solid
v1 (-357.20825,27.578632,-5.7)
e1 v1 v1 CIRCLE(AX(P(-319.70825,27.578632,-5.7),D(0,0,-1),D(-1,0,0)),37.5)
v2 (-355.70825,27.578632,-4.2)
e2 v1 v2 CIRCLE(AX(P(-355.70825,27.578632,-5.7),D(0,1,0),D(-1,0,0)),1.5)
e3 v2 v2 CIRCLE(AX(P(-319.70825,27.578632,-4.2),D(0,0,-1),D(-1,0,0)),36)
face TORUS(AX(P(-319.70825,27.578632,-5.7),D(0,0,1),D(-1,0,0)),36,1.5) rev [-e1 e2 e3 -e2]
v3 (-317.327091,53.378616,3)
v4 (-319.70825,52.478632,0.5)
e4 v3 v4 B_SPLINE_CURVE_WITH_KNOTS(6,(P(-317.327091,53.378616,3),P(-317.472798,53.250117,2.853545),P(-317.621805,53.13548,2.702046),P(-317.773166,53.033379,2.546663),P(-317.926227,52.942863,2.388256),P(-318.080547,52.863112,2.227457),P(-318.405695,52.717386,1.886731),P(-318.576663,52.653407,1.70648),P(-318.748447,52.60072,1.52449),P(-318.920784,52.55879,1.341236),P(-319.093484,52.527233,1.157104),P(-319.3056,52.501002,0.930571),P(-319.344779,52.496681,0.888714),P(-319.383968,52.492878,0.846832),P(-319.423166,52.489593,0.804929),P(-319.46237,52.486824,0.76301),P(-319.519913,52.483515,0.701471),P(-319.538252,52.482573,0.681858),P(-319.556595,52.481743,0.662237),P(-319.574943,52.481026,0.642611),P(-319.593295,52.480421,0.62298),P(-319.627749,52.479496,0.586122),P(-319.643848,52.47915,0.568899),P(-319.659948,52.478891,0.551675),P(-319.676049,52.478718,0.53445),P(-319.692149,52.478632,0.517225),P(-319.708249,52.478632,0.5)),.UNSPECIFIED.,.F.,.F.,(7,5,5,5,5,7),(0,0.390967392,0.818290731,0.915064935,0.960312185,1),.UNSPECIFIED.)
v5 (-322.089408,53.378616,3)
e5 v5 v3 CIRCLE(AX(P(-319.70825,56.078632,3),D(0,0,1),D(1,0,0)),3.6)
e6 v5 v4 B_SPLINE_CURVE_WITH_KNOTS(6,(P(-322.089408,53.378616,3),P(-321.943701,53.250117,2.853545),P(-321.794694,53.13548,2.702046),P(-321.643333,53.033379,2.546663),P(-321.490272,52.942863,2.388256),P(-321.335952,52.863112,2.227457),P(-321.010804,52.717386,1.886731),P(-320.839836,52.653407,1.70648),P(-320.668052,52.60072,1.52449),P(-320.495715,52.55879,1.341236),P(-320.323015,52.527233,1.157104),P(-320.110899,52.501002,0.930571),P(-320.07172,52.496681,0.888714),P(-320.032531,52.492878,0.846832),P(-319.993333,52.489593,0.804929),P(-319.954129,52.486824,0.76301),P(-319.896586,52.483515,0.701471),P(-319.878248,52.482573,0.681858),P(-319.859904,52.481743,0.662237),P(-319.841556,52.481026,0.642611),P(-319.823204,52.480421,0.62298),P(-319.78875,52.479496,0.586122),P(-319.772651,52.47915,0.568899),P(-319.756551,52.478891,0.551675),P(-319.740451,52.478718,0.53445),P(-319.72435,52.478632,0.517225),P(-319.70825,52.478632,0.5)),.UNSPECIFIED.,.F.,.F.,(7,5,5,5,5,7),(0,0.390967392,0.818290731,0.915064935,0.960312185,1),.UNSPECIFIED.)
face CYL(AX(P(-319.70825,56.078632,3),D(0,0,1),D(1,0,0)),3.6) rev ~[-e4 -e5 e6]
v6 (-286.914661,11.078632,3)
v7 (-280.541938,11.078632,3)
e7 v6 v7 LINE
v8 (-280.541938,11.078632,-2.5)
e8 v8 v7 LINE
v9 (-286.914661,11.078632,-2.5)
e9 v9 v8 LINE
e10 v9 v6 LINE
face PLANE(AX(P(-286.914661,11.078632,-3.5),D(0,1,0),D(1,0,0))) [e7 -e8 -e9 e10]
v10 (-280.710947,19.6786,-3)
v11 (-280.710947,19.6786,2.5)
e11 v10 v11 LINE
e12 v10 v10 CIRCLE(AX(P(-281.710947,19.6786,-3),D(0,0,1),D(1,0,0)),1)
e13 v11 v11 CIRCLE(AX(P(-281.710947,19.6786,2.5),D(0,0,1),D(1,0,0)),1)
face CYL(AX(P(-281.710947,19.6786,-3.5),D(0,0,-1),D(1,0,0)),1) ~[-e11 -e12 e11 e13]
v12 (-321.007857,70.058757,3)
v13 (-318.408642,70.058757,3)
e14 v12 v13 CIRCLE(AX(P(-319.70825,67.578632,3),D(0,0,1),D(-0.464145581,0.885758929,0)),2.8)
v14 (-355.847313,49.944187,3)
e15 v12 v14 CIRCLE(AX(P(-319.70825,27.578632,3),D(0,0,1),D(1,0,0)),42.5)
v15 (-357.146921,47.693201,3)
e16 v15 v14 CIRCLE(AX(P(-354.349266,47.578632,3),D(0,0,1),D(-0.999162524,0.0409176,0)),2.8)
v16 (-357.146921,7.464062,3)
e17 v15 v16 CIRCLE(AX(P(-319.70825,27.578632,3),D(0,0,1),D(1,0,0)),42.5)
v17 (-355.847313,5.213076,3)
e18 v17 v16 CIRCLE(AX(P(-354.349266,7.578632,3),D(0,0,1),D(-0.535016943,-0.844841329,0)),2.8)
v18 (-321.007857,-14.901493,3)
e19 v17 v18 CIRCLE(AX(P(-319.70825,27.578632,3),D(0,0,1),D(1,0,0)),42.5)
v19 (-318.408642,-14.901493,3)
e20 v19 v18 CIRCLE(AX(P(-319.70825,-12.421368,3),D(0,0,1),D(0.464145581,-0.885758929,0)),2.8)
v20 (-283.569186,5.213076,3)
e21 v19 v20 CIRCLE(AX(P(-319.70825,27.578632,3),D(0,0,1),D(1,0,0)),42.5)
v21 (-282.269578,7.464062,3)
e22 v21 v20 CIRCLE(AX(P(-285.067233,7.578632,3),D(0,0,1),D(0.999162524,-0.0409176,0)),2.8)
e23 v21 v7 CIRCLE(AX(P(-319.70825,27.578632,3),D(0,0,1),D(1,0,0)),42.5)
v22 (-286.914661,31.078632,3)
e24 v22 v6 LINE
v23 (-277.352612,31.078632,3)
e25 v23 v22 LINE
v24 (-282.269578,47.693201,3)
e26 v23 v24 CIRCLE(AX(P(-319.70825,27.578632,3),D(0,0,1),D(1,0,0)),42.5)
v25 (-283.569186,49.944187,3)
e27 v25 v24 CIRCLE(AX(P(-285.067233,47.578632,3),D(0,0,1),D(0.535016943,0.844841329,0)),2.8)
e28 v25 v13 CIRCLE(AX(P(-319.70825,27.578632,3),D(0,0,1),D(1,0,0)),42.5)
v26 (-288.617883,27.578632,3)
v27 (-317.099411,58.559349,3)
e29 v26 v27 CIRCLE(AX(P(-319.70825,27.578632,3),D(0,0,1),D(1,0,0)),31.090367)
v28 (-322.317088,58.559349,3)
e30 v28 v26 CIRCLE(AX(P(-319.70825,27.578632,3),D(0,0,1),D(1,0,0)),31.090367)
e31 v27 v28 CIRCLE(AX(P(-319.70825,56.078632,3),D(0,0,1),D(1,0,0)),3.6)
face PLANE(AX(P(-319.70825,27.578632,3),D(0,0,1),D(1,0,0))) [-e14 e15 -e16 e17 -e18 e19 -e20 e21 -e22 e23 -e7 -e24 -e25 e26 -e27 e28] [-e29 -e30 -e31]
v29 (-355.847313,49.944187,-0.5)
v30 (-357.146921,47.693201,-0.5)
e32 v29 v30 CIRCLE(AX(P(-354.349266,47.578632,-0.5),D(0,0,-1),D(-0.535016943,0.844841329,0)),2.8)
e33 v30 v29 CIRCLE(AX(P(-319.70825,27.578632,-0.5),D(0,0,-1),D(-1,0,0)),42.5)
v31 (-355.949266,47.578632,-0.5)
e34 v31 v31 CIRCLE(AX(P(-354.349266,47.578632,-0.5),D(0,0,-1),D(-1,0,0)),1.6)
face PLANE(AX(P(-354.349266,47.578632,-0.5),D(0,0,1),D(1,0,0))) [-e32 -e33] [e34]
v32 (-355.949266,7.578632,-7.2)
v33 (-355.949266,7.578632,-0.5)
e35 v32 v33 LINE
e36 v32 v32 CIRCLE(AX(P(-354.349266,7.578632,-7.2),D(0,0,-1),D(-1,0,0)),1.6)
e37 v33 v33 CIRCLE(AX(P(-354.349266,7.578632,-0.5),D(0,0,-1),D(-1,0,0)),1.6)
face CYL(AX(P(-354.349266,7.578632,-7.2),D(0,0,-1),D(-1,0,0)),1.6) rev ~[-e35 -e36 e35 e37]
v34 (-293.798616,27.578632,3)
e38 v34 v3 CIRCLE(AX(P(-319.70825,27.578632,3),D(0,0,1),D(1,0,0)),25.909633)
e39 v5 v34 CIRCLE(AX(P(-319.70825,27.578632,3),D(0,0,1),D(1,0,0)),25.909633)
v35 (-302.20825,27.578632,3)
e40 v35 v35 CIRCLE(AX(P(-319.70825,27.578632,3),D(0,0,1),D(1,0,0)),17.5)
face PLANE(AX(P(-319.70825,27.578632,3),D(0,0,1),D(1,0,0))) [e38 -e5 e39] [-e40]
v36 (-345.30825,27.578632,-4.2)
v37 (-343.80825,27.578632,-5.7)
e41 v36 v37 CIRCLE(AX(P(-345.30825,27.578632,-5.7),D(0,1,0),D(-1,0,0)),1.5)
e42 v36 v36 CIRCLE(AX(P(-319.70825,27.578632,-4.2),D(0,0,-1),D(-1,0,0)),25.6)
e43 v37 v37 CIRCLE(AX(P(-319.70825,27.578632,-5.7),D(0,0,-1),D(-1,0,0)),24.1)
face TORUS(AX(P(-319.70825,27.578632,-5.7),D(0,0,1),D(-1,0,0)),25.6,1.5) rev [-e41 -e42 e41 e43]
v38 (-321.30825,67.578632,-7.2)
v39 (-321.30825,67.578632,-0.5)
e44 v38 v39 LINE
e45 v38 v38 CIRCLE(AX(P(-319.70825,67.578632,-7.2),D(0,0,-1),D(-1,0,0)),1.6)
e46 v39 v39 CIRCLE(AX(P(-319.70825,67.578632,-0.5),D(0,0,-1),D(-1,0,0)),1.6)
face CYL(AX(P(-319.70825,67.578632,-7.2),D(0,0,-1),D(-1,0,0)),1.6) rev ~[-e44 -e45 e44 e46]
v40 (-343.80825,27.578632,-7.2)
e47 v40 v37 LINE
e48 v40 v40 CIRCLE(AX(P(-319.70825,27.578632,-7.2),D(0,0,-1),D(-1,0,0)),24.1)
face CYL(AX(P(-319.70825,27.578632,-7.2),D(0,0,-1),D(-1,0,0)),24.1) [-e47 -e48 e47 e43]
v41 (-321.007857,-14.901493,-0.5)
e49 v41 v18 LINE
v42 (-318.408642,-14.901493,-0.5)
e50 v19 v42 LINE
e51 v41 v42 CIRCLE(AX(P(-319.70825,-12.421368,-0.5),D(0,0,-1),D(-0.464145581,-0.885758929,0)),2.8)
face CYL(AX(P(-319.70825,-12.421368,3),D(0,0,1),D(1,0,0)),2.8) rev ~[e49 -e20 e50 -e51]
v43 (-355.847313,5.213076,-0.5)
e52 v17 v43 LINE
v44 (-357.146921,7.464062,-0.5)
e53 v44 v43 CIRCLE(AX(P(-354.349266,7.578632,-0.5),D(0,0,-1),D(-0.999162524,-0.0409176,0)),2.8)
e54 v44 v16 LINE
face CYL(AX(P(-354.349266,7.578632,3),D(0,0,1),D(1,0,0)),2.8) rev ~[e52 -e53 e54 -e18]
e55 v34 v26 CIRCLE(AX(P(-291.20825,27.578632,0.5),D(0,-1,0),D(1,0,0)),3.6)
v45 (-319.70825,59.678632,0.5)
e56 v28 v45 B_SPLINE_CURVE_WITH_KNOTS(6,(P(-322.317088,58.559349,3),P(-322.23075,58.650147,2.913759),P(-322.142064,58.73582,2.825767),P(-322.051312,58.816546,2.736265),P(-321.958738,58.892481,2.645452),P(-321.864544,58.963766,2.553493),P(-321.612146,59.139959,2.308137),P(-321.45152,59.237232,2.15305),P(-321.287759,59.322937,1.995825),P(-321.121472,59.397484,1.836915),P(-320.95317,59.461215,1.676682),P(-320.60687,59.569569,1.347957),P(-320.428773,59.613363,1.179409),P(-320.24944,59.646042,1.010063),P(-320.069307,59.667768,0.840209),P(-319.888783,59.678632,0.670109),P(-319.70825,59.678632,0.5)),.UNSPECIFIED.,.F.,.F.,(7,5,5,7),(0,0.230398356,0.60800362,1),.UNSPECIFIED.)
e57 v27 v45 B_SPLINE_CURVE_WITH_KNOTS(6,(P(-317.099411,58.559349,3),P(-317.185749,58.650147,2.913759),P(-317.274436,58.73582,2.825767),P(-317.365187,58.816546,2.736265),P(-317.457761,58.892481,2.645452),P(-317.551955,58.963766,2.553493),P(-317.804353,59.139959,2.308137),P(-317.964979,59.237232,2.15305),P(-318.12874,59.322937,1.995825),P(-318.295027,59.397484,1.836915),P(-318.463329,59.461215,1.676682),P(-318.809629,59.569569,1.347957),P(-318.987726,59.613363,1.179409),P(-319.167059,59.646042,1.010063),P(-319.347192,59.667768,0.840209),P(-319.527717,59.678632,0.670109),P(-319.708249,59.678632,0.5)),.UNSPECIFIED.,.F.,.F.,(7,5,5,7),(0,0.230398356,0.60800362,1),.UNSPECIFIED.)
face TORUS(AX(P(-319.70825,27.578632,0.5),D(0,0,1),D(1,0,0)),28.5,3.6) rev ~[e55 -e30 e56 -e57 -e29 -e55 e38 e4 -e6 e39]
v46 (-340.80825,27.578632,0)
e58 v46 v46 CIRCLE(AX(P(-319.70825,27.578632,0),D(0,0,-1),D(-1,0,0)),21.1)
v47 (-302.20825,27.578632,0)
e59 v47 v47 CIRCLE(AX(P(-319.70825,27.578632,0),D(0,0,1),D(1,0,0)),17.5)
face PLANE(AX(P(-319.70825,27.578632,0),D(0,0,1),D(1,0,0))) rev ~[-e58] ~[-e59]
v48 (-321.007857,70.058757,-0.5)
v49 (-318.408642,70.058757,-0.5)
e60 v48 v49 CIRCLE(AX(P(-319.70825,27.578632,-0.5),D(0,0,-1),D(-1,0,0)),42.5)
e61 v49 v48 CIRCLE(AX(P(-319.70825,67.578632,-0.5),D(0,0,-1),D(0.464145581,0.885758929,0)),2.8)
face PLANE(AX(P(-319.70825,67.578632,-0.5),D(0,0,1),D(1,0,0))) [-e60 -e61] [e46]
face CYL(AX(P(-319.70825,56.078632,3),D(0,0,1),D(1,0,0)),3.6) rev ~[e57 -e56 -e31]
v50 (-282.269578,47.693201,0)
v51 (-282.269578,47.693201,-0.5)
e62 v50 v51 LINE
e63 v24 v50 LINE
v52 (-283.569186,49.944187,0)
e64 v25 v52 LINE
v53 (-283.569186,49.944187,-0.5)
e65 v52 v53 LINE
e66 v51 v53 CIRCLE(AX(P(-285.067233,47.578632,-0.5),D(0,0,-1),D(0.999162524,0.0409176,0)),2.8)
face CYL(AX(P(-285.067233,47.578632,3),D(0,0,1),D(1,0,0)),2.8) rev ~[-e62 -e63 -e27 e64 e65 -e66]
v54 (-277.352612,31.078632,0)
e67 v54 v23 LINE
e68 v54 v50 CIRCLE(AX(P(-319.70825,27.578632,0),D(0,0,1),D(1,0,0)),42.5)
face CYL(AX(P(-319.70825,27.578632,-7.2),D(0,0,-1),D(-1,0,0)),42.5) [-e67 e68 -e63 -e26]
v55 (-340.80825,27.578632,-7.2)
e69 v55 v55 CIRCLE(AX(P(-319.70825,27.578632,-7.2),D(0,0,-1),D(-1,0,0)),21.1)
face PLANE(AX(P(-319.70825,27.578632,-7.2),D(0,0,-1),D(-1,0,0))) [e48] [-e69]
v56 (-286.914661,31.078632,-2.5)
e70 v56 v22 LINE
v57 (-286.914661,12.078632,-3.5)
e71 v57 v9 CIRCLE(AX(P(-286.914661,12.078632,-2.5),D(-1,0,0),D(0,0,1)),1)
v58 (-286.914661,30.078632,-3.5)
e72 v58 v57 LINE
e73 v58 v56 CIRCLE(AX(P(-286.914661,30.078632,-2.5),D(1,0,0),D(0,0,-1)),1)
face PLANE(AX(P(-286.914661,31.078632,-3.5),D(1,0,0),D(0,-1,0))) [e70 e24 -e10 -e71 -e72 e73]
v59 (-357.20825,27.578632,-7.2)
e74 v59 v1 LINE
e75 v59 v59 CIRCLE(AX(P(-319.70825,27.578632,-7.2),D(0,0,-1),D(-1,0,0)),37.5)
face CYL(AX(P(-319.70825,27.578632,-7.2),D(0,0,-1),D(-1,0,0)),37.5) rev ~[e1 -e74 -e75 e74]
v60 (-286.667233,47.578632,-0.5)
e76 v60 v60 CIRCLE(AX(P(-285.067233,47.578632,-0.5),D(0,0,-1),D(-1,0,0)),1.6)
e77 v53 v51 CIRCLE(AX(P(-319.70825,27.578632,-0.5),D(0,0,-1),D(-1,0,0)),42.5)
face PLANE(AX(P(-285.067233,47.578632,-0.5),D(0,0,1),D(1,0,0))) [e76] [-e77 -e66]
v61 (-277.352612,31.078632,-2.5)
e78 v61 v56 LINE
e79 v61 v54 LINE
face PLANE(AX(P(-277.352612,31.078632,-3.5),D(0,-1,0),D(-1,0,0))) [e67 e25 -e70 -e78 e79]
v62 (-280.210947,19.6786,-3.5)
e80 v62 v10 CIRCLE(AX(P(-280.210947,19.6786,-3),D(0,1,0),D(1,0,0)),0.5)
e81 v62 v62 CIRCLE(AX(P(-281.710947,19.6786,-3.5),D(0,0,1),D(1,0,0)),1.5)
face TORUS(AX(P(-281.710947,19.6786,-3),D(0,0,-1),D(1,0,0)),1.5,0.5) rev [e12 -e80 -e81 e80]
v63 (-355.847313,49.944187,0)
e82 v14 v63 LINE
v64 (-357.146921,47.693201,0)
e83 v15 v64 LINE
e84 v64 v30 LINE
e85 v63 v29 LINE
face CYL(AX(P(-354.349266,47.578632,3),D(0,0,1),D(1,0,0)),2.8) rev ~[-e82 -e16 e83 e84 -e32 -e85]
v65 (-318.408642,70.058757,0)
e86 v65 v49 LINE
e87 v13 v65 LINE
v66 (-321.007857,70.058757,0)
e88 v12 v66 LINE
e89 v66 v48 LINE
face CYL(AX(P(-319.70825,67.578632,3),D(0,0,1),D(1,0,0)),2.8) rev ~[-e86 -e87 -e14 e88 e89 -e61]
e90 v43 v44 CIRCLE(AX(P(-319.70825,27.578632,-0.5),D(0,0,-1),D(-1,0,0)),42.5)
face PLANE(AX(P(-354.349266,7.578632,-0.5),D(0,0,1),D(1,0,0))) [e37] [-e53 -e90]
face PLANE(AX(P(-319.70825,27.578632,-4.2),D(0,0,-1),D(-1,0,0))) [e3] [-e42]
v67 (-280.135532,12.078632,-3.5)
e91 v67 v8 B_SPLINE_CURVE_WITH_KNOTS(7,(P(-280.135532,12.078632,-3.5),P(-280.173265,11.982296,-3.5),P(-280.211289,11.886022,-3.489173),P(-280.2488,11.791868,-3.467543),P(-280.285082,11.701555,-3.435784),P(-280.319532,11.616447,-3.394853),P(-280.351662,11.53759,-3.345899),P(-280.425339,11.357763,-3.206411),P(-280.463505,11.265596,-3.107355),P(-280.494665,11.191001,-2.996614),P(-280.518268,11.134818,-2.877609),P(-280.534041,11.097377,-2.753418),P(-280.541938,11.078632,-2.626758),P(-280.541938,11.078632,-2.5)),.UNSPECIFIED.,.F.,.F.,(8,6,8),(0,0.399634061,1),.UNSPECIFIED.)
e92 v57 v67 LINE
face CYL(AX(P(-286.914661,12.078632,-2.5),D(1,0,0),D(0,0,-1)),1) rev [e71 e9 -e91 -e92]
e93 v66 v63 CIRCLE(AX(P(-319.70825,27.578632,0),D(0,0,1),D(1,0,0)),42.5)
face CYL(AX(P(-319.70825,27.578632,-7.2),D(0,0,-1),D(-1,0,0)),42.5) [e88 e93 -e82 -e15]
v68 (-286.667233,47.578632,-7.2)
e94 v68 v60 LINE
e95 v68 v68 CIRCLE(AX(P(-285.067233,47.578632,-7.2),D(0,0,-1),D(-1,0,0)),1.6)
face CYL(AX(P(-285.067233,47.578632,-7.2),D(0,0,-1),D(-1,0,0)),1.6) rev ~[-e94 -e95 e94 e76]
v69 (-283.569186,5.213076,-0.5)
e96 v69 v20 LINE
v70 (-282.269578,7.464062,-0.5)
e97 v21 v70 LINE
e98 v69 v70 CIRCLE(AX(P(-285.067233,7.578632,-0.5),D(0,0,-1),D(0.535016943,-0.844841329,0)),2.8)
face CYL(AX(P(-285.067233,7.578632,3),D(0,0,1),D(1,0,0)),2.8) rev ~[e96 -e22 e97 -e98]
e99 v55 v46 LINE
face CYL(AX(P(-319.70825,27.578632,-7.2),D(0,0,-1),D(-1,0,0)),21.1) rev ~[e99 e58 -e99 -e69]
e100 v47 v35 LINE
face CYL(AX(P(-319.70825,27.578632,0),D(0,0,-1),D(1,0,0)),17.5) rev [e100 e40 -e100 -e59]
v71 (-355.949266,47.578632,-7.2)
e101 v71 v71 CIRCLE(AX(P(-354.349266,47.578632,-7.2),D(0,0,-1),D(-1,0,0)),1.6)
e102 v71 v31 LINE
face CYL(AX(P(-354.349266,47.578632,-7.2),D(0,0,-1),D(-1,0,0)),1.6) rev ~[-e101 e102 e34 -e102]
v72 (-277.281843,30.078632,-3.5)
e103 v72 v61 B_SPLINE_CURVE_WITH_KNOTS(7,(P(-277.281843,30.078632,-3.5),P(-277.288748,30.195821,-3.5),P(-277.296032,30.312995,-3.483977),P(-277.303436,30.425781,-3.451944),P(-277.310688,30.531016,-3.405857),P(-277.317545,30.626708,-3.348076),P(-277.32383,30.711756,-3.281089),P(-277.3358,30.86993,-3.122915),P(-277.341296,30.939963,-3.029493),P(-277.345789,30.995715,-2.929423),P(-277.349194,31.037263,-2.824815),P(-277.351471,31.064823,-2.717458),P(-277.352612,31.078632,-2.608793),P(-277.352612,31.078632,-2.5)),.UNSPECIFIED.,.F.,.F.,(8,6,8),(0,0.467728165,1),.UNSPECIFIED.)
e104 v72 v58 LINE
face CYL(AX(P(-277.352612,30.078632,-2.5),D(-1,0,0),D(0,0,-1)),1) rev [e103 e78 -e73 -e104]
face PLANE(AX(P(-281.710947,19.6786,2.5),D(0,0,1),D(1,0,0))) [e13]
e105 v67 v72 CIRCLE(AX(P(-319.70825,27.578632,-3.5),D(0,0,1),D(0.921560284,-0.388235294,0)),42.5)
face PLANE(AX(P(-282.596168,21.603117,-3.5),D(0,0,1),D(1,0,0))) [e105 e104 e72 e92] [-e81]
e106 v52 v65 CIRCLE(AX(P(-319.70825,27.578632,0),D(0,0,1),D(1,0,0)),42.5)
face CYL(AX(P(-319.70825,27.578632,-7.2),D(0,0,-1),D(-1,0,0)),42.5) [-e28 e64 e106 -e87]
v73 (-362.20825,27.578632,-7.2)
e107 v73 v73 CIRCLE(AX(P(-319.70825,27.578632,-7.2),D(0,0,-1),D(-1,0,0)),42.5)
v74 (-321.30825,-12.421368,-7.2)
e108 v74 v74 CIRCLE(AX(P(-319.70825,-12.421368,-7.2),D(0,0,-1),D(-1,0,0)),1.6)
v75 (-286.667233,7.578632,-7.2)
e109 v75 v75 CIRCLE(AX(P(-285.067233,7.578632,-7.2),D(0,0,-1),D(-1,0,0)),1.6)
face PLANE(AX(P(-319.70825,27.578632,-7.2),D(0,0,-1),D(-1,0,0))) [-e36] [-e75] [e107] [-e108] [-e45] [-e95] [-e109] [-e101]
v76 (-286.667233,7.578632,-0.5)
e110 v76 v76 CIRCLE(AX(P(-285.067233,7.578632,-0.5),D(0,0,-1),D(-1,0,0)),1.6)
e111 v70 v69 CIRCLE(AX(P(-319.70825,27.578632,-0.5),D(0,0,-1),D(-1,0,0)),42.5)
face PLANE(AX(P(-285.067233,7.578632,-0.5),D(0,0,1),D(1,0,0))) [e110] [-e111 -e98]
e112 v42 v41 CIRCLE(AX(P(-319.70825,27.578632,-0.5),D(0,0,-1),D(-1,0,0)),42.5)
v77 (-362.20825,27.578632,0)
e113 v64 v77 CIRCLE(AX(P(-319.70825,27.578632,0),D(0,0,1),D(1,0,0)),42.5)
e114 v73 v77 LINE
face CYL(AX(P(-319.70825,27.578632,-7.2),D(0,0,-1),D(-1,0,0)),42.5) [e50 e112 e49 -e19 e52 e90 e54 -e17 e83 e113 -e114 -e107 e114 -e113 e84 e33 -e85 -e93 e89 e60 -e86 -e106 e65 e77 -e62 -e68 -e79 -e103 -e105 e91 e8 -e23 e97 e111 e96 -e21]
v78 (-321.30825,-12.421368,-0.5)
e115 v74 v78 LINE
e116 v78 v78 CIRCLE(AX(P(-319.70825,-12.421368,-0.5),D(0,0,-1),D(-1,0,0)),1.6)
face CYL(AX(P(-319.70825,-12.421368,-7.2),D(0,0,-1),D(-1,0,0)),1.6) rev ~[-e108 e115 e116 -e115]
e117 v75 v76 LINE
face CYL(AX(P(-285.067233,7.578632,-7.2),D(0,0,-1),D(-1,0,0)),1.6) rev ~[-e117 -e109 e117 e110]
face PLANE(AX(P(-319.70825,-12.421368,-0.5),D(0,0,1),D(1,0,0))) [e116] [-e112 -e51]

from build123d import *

# Parameters (mm, degrees)
SKETCH1_R            = 42.50000000000227
SKETCH1_R_2          = 1.6000000000000214
SKETCH1_R_3          = 1.6000000000000199
SKETCH1_R_4          = 1.6000000000000134
SKETCH1_R_5          = 1.6000000000000174
SKETCH1_R_6          = 1.5999999999999819
SKETCH1_R_7          = 1.6000000000000256
SKETCH1_R_8          = 17.499999999999996
BOSS_EXTRUDE1_DEPTH  = 3
BOSS_EXTRUDE3_START  = 7.2
SKETCH2_R            = 42.50000000000227
SKETCH2_R_2          = 37.50000000000225
SKETCH2_R_3          = 1.6000000000000214
SKETCH2_R_4          = 1.6000000000000199
SKETCH2_R_5          = 1.6000000000000174
SKETCH2_R_6          = 1.6000000000000256
SKETCH2_R_7          = 1.599999999999982
SKETCH2_R_8          = 1.6000000000000132
SKETCH2_R_9          = 24.10000000000001
SKETCH2_R_10         = 21.10000000000001
BOSS_EXTRUDE3_DEPTH  = 7.2
SKETCH4_R            = 37.500000000002274
SKETCH4_R_2          = 24.100000000000005
BOSS_EXTRUDE4_DEPTH  = 7.2
SKETCH3_R            = 2.8000000000000083
SKETCH3_R_2          = 2.7999999999999874
SKETCH3_R_3          = 2.799999999999999
SKETCH3_R_4          = 2.800000000000002
SKETCH3_R_5          = 2.7999999999999847
CUT_EXTRUDE1_DEPTH   = 3.5
CUT_SWEEP1_PROFILE_R = 3.6
CUT_EXTRUDE2_REACH   = 371.066
SKETCH22_R           = 3.6000000000000143
SKETCH23_R           = 37.50000000000225
SKETCH23_R_2         = 24.10000000000001
CUT_EXTRUDE3_DEPTH   = 3
FILLET1_R            = 1.5
CUT_EXTRUDE4_START   = -6.5
CUT_EXTRUDE4_DEPTH   = 6.5
SKETCH26_R           = 0.9999999999999983
BOSS_EXTRUDE6_DEPTH  = 6
FILLET2_R            = 0.5
FILLET3_R            = 1


with BuildPart() as part:
    # Sketch1 → Boss-Extrude1 (new body)
    with BuildSketch(Plane.XY):
        with Locations((-319.7082495586111, 27.57863172929923)):
            Circle(SKETCH1_R)
        with Locations((-285.0672334072322, 47.578631729303034)):
            Circle(SKETCH1_R_2, mode=Mode.SUBTRACT)
        with Locations((-285.0672334072285, 7.578631729299956)):
            Circle(SKETCH1_R_3, mode=Mode.SUBTRACT)
        with Locations((-319.708249558607, -12.42136827070478)):
            Circle(SKETCH1_R_4, mode=Mode.SUBTRACT)
        with Locations((-354.34926570998897, 7.578631729293746)):
            Circle(SKETCH1_R_5, mode=Mode.SUBTRACT)
        with Locations((-354.34926570999244, 47.57863172929688)):
            Circle(SKETCH1_R_6, mode=Mode.SUBTRACT)
        with Locations((-319.7082495586139, 67.57863172930129)):
            Circle(SKETCH1_R_7, mode=Mode.SUBTRACT)
        with Locations((-319.7082495586111, 27.57863172929923)):
            Circle(SKETCH1_R_8, mode=Mode.SUBTRACT)
    extrude(amount=BOSS_EXTRUDE1_DEPTH)

    # Sketch2 → Boss-Extrude3 (add)
    # profile 1 of 2: a face of its own
    with BuildSketch(Plane(origin=(0, 0, 0), x_dir=(-1, 0, 0), z_dir=(0, 0, -1)).offset(BOSS_EXTRUDE3_START)):
        with Locations((319.7082495586111, 27.57863172929923)):
            Circle(SKETCH2_R)
        with Locations((319.7082495586111, 27.57863172929923)):
            Circle(SKETCH2_R_2, mode=Mode.SUBTRACT)
        with Locations((285.0672334072322, 47.578631729303034)):
            Circle(SKETCH2_R_3, mode=Mode.SUBTRACT)
        with Locations((285.0672334072285, 7.578631729299956)):
            Circle(SKETCH2_R_4, mode=Mode.SUBTRACT)
        with Locations((354.34926570998897, 7.578631729293746)):
            Circle(SKETCH2_R_5, mode=Mode.SUBTRACT)
        with Locations((319.7082495586139, 67.57863172930129)):
            Circle(SKETCH2_R_6, mode=Mode.SUBTRACT)
        with Locations((354.34926570999244, 47.57863172929688)):
            Circle(SKETCH2_R_7, mode=Mode.SUBTRACT)
        with Locations((319.708249558607, -12.42136827070478)):
            Circle(SKETCH2_R_8, mode=Mode.SUBTRACT)
    # profile 2 of 2: a face of its own
    with BuildSketch(Plane(origin=(0, 0, 0), x_dir=(-1, 0, 0), z_dir=(0, 0, -1)).offset(BOSS_EXTRUDE3_START)):
        with Locations(Location((319.7082495586111, 27.57863172929923, 0), (0, 0, 180))):
            Circle(SKETCH2_R_9)
        with Locations((319.7082495586111, 27.57863172929923)):
            Circle(SKETCH2_R_10, mode=Mode.SUBTRACT)
    extrude(amount=-BOSS_EXTRUDE3_DEPTH)

    # Sketch4 → Boss-Extrude4 (add)
    with BuildSketch(Plane(origin=(0, 0, -7.2), x_dir=(-1, 0, 0), z_dir=(0, 0, -1))):
        with Locations((319.7082495586111, 27.57863172929923)):
            Circle(SKETCH4_R)
        with Locations((319.7082495586111, 27.57863172929923)):
            Circle(SKETCH4_R_2, mode=Mode.SUBTRACT)
    extrude(amount=-BOSS_EXTRUDE4_DEPTH)

    # Sketch3 → Cut-Extrude1 (cut)
    with BuildSketch(Plane.XY.offset(3)):
        with Locations((-285.0672334072322, 47.578631729303034)):
            Circle(SKETCH3_R)
        with Locations((-285.0672334072269, 7.578631729303897)):
            Circle(SKETCH3_R_2)
        with Locations((-319.7082495586012, -12.42136827070006)):
            Circle(SKETCH3_R_3)
        with Locations((-354.34926570998056, 7.578631729295106)):
            Circle(SKETCH3_R_4)
        with Locations((-354.34926570998545, 47.57863172929427)):
            Circle(SKETCH3_R_2)
        with Locations((-319.7082495586111, 67.57863172929795)):
            Circle(SKETCH3_R_5)
    extrude(amount=-CUT_EXTRUDE1_DEPTH, mode=Mode.SUBTRACT)

    # Cut-Sweep1: sweep along a path in Sketch5
    with BuildLine(Plane.XY.offset(0.5)) as cut_sweep1_path:
        CenterArc((-319.7082495586111, 27.57863172929923), 28.500000000002245, 0, 360)
    # Cut-Sweep1 profile (on start of the path) → Cut-Sweep1 (sweep, cut)
    with BuildSketch(Plane(origin=(-291.2082495586088, 27.57863172929923, 0.5), x_dir=(0, 0, 1), z_dir=(0, 1, 0))):
        Circle(CUT_SWEEP1_PROFILE_R)
    sweep(path=cut_sweep1_path.line, mode=Mode.SUBTRACT)

    # Sketch22 → Cut-Extrude2 (cut, up to next)
    with BuildSketch(Plane.XY.offset(3), mode=Mode.PRIVATE) as cut_extrude2_sk1:
        with Locations((-319.7082495586111, 56.07863172930147)):
            Circle(SKETCH22_R)
    cut_extrude2_tool1 = extrude(cut_extrude2_sk1.sketch, amount=-CUT_EXTRUDE2_REACH, mode=Mode.PRIVATE) & part.part
    add(cut_extrude2_tool1.solids().sort_by_distance((-319.70825, 56.078632, 3))[0], mode=Mode.SUBTRACT)
    add(cut_extrude2_tool1.solids().sort_by_distance((-319.70825, 56.078632, 3))[1], mode=Mode.SUBTRACT)

    # Sketch23 → Cut-Extrude3 (cut)
    with BuildSketch(Plane(origin=(0, 0, -7.2), x_dir=(-1, 0, 0), z_dir=(0, 0, -1))):
        with Locations((319.7082495586111, 27.57863172929923)):
            Circle(SKETCH23_R)
        with Locations((319.7082495586111, 27.57863172929923)):
            Circle(SKETCH23_R_2, mode=Mode.SUBTRACT)
    extrude(amount=-CUT_EXTRUDE3_DEPTH, mode=Mode.SUBTRACT)

    # Fillet1
    fillet1_edges = [part.edges().sort_by_distance(p)[0] for p in [
        (-282.2082495586088, 27.578631729299232, -4.2),
        (-295.6082495586111, 27.578631729299232, -4.2),
    ]]
    fillet(fillet1_edges, radius=FILLET1_R)

    # Sketch24 → Cut-Extrude4 (cut)
    with BuildSketch(Plane.XY.offset(3).offset(CUT_EXTRUDE4_START)):
        with BuildLine():
            Line((-286.9146608641175, 31.078631729299236), (-286.9146608641175, 12.578631729299232))
            Line((-286.9146608641175, 12.578631729299232), (-286.9146608641175, 11.078631729299234))
            Line((-286.9146608641175, 11.078631729299234), (-280.54193750347633, 11.078631729299234))
            ThreePointArc((-280.54193750347633, 11.078631729299234), (-277.7385336752559, 20.88587828466693), (-277.3526123895141, 31.078631729299236))
            Line((-277.3526123895141, 31.078631729299236), (-286.9146608641175, 31.078631729299236))
        make_face()
    extrude(amount=CUT_EXTRUDE4_DEPTH, mode=Mode.SUBTRACT)

    # Sketch26 → Boss-Extrude6 (add)
    with BuildSketch(Plane.XY.offset(-3.4999999999999996)):
        with Locations((-281.7109467373067, 19.678599736614537)):
            Circle(SKETCH26_R)
    extrude(amount=BOSS_EXTRUDE6_DEPTH)

    # Fillet2
    fillet2_edges = [part.edges().sort_by_distance(p)[0] for p in [
        (-282.7109467373067, 19.678599736614537, -3.4999999999999996),
    ]]
    fillet(fillet2_edges, radius=FILLET2_R)

    # Fillet3
    fillet3_edges = [part.edges().sort_by_distance(p)[0] for p in [
        (-283.72829918379693, 11.078631729299234, -3.5),
        (-282.1336366268158, 31.078631729299236, -3.5),
    ]]
    fillet(fillet3_edges, radius=FILLET3_R)


solid = part.part
